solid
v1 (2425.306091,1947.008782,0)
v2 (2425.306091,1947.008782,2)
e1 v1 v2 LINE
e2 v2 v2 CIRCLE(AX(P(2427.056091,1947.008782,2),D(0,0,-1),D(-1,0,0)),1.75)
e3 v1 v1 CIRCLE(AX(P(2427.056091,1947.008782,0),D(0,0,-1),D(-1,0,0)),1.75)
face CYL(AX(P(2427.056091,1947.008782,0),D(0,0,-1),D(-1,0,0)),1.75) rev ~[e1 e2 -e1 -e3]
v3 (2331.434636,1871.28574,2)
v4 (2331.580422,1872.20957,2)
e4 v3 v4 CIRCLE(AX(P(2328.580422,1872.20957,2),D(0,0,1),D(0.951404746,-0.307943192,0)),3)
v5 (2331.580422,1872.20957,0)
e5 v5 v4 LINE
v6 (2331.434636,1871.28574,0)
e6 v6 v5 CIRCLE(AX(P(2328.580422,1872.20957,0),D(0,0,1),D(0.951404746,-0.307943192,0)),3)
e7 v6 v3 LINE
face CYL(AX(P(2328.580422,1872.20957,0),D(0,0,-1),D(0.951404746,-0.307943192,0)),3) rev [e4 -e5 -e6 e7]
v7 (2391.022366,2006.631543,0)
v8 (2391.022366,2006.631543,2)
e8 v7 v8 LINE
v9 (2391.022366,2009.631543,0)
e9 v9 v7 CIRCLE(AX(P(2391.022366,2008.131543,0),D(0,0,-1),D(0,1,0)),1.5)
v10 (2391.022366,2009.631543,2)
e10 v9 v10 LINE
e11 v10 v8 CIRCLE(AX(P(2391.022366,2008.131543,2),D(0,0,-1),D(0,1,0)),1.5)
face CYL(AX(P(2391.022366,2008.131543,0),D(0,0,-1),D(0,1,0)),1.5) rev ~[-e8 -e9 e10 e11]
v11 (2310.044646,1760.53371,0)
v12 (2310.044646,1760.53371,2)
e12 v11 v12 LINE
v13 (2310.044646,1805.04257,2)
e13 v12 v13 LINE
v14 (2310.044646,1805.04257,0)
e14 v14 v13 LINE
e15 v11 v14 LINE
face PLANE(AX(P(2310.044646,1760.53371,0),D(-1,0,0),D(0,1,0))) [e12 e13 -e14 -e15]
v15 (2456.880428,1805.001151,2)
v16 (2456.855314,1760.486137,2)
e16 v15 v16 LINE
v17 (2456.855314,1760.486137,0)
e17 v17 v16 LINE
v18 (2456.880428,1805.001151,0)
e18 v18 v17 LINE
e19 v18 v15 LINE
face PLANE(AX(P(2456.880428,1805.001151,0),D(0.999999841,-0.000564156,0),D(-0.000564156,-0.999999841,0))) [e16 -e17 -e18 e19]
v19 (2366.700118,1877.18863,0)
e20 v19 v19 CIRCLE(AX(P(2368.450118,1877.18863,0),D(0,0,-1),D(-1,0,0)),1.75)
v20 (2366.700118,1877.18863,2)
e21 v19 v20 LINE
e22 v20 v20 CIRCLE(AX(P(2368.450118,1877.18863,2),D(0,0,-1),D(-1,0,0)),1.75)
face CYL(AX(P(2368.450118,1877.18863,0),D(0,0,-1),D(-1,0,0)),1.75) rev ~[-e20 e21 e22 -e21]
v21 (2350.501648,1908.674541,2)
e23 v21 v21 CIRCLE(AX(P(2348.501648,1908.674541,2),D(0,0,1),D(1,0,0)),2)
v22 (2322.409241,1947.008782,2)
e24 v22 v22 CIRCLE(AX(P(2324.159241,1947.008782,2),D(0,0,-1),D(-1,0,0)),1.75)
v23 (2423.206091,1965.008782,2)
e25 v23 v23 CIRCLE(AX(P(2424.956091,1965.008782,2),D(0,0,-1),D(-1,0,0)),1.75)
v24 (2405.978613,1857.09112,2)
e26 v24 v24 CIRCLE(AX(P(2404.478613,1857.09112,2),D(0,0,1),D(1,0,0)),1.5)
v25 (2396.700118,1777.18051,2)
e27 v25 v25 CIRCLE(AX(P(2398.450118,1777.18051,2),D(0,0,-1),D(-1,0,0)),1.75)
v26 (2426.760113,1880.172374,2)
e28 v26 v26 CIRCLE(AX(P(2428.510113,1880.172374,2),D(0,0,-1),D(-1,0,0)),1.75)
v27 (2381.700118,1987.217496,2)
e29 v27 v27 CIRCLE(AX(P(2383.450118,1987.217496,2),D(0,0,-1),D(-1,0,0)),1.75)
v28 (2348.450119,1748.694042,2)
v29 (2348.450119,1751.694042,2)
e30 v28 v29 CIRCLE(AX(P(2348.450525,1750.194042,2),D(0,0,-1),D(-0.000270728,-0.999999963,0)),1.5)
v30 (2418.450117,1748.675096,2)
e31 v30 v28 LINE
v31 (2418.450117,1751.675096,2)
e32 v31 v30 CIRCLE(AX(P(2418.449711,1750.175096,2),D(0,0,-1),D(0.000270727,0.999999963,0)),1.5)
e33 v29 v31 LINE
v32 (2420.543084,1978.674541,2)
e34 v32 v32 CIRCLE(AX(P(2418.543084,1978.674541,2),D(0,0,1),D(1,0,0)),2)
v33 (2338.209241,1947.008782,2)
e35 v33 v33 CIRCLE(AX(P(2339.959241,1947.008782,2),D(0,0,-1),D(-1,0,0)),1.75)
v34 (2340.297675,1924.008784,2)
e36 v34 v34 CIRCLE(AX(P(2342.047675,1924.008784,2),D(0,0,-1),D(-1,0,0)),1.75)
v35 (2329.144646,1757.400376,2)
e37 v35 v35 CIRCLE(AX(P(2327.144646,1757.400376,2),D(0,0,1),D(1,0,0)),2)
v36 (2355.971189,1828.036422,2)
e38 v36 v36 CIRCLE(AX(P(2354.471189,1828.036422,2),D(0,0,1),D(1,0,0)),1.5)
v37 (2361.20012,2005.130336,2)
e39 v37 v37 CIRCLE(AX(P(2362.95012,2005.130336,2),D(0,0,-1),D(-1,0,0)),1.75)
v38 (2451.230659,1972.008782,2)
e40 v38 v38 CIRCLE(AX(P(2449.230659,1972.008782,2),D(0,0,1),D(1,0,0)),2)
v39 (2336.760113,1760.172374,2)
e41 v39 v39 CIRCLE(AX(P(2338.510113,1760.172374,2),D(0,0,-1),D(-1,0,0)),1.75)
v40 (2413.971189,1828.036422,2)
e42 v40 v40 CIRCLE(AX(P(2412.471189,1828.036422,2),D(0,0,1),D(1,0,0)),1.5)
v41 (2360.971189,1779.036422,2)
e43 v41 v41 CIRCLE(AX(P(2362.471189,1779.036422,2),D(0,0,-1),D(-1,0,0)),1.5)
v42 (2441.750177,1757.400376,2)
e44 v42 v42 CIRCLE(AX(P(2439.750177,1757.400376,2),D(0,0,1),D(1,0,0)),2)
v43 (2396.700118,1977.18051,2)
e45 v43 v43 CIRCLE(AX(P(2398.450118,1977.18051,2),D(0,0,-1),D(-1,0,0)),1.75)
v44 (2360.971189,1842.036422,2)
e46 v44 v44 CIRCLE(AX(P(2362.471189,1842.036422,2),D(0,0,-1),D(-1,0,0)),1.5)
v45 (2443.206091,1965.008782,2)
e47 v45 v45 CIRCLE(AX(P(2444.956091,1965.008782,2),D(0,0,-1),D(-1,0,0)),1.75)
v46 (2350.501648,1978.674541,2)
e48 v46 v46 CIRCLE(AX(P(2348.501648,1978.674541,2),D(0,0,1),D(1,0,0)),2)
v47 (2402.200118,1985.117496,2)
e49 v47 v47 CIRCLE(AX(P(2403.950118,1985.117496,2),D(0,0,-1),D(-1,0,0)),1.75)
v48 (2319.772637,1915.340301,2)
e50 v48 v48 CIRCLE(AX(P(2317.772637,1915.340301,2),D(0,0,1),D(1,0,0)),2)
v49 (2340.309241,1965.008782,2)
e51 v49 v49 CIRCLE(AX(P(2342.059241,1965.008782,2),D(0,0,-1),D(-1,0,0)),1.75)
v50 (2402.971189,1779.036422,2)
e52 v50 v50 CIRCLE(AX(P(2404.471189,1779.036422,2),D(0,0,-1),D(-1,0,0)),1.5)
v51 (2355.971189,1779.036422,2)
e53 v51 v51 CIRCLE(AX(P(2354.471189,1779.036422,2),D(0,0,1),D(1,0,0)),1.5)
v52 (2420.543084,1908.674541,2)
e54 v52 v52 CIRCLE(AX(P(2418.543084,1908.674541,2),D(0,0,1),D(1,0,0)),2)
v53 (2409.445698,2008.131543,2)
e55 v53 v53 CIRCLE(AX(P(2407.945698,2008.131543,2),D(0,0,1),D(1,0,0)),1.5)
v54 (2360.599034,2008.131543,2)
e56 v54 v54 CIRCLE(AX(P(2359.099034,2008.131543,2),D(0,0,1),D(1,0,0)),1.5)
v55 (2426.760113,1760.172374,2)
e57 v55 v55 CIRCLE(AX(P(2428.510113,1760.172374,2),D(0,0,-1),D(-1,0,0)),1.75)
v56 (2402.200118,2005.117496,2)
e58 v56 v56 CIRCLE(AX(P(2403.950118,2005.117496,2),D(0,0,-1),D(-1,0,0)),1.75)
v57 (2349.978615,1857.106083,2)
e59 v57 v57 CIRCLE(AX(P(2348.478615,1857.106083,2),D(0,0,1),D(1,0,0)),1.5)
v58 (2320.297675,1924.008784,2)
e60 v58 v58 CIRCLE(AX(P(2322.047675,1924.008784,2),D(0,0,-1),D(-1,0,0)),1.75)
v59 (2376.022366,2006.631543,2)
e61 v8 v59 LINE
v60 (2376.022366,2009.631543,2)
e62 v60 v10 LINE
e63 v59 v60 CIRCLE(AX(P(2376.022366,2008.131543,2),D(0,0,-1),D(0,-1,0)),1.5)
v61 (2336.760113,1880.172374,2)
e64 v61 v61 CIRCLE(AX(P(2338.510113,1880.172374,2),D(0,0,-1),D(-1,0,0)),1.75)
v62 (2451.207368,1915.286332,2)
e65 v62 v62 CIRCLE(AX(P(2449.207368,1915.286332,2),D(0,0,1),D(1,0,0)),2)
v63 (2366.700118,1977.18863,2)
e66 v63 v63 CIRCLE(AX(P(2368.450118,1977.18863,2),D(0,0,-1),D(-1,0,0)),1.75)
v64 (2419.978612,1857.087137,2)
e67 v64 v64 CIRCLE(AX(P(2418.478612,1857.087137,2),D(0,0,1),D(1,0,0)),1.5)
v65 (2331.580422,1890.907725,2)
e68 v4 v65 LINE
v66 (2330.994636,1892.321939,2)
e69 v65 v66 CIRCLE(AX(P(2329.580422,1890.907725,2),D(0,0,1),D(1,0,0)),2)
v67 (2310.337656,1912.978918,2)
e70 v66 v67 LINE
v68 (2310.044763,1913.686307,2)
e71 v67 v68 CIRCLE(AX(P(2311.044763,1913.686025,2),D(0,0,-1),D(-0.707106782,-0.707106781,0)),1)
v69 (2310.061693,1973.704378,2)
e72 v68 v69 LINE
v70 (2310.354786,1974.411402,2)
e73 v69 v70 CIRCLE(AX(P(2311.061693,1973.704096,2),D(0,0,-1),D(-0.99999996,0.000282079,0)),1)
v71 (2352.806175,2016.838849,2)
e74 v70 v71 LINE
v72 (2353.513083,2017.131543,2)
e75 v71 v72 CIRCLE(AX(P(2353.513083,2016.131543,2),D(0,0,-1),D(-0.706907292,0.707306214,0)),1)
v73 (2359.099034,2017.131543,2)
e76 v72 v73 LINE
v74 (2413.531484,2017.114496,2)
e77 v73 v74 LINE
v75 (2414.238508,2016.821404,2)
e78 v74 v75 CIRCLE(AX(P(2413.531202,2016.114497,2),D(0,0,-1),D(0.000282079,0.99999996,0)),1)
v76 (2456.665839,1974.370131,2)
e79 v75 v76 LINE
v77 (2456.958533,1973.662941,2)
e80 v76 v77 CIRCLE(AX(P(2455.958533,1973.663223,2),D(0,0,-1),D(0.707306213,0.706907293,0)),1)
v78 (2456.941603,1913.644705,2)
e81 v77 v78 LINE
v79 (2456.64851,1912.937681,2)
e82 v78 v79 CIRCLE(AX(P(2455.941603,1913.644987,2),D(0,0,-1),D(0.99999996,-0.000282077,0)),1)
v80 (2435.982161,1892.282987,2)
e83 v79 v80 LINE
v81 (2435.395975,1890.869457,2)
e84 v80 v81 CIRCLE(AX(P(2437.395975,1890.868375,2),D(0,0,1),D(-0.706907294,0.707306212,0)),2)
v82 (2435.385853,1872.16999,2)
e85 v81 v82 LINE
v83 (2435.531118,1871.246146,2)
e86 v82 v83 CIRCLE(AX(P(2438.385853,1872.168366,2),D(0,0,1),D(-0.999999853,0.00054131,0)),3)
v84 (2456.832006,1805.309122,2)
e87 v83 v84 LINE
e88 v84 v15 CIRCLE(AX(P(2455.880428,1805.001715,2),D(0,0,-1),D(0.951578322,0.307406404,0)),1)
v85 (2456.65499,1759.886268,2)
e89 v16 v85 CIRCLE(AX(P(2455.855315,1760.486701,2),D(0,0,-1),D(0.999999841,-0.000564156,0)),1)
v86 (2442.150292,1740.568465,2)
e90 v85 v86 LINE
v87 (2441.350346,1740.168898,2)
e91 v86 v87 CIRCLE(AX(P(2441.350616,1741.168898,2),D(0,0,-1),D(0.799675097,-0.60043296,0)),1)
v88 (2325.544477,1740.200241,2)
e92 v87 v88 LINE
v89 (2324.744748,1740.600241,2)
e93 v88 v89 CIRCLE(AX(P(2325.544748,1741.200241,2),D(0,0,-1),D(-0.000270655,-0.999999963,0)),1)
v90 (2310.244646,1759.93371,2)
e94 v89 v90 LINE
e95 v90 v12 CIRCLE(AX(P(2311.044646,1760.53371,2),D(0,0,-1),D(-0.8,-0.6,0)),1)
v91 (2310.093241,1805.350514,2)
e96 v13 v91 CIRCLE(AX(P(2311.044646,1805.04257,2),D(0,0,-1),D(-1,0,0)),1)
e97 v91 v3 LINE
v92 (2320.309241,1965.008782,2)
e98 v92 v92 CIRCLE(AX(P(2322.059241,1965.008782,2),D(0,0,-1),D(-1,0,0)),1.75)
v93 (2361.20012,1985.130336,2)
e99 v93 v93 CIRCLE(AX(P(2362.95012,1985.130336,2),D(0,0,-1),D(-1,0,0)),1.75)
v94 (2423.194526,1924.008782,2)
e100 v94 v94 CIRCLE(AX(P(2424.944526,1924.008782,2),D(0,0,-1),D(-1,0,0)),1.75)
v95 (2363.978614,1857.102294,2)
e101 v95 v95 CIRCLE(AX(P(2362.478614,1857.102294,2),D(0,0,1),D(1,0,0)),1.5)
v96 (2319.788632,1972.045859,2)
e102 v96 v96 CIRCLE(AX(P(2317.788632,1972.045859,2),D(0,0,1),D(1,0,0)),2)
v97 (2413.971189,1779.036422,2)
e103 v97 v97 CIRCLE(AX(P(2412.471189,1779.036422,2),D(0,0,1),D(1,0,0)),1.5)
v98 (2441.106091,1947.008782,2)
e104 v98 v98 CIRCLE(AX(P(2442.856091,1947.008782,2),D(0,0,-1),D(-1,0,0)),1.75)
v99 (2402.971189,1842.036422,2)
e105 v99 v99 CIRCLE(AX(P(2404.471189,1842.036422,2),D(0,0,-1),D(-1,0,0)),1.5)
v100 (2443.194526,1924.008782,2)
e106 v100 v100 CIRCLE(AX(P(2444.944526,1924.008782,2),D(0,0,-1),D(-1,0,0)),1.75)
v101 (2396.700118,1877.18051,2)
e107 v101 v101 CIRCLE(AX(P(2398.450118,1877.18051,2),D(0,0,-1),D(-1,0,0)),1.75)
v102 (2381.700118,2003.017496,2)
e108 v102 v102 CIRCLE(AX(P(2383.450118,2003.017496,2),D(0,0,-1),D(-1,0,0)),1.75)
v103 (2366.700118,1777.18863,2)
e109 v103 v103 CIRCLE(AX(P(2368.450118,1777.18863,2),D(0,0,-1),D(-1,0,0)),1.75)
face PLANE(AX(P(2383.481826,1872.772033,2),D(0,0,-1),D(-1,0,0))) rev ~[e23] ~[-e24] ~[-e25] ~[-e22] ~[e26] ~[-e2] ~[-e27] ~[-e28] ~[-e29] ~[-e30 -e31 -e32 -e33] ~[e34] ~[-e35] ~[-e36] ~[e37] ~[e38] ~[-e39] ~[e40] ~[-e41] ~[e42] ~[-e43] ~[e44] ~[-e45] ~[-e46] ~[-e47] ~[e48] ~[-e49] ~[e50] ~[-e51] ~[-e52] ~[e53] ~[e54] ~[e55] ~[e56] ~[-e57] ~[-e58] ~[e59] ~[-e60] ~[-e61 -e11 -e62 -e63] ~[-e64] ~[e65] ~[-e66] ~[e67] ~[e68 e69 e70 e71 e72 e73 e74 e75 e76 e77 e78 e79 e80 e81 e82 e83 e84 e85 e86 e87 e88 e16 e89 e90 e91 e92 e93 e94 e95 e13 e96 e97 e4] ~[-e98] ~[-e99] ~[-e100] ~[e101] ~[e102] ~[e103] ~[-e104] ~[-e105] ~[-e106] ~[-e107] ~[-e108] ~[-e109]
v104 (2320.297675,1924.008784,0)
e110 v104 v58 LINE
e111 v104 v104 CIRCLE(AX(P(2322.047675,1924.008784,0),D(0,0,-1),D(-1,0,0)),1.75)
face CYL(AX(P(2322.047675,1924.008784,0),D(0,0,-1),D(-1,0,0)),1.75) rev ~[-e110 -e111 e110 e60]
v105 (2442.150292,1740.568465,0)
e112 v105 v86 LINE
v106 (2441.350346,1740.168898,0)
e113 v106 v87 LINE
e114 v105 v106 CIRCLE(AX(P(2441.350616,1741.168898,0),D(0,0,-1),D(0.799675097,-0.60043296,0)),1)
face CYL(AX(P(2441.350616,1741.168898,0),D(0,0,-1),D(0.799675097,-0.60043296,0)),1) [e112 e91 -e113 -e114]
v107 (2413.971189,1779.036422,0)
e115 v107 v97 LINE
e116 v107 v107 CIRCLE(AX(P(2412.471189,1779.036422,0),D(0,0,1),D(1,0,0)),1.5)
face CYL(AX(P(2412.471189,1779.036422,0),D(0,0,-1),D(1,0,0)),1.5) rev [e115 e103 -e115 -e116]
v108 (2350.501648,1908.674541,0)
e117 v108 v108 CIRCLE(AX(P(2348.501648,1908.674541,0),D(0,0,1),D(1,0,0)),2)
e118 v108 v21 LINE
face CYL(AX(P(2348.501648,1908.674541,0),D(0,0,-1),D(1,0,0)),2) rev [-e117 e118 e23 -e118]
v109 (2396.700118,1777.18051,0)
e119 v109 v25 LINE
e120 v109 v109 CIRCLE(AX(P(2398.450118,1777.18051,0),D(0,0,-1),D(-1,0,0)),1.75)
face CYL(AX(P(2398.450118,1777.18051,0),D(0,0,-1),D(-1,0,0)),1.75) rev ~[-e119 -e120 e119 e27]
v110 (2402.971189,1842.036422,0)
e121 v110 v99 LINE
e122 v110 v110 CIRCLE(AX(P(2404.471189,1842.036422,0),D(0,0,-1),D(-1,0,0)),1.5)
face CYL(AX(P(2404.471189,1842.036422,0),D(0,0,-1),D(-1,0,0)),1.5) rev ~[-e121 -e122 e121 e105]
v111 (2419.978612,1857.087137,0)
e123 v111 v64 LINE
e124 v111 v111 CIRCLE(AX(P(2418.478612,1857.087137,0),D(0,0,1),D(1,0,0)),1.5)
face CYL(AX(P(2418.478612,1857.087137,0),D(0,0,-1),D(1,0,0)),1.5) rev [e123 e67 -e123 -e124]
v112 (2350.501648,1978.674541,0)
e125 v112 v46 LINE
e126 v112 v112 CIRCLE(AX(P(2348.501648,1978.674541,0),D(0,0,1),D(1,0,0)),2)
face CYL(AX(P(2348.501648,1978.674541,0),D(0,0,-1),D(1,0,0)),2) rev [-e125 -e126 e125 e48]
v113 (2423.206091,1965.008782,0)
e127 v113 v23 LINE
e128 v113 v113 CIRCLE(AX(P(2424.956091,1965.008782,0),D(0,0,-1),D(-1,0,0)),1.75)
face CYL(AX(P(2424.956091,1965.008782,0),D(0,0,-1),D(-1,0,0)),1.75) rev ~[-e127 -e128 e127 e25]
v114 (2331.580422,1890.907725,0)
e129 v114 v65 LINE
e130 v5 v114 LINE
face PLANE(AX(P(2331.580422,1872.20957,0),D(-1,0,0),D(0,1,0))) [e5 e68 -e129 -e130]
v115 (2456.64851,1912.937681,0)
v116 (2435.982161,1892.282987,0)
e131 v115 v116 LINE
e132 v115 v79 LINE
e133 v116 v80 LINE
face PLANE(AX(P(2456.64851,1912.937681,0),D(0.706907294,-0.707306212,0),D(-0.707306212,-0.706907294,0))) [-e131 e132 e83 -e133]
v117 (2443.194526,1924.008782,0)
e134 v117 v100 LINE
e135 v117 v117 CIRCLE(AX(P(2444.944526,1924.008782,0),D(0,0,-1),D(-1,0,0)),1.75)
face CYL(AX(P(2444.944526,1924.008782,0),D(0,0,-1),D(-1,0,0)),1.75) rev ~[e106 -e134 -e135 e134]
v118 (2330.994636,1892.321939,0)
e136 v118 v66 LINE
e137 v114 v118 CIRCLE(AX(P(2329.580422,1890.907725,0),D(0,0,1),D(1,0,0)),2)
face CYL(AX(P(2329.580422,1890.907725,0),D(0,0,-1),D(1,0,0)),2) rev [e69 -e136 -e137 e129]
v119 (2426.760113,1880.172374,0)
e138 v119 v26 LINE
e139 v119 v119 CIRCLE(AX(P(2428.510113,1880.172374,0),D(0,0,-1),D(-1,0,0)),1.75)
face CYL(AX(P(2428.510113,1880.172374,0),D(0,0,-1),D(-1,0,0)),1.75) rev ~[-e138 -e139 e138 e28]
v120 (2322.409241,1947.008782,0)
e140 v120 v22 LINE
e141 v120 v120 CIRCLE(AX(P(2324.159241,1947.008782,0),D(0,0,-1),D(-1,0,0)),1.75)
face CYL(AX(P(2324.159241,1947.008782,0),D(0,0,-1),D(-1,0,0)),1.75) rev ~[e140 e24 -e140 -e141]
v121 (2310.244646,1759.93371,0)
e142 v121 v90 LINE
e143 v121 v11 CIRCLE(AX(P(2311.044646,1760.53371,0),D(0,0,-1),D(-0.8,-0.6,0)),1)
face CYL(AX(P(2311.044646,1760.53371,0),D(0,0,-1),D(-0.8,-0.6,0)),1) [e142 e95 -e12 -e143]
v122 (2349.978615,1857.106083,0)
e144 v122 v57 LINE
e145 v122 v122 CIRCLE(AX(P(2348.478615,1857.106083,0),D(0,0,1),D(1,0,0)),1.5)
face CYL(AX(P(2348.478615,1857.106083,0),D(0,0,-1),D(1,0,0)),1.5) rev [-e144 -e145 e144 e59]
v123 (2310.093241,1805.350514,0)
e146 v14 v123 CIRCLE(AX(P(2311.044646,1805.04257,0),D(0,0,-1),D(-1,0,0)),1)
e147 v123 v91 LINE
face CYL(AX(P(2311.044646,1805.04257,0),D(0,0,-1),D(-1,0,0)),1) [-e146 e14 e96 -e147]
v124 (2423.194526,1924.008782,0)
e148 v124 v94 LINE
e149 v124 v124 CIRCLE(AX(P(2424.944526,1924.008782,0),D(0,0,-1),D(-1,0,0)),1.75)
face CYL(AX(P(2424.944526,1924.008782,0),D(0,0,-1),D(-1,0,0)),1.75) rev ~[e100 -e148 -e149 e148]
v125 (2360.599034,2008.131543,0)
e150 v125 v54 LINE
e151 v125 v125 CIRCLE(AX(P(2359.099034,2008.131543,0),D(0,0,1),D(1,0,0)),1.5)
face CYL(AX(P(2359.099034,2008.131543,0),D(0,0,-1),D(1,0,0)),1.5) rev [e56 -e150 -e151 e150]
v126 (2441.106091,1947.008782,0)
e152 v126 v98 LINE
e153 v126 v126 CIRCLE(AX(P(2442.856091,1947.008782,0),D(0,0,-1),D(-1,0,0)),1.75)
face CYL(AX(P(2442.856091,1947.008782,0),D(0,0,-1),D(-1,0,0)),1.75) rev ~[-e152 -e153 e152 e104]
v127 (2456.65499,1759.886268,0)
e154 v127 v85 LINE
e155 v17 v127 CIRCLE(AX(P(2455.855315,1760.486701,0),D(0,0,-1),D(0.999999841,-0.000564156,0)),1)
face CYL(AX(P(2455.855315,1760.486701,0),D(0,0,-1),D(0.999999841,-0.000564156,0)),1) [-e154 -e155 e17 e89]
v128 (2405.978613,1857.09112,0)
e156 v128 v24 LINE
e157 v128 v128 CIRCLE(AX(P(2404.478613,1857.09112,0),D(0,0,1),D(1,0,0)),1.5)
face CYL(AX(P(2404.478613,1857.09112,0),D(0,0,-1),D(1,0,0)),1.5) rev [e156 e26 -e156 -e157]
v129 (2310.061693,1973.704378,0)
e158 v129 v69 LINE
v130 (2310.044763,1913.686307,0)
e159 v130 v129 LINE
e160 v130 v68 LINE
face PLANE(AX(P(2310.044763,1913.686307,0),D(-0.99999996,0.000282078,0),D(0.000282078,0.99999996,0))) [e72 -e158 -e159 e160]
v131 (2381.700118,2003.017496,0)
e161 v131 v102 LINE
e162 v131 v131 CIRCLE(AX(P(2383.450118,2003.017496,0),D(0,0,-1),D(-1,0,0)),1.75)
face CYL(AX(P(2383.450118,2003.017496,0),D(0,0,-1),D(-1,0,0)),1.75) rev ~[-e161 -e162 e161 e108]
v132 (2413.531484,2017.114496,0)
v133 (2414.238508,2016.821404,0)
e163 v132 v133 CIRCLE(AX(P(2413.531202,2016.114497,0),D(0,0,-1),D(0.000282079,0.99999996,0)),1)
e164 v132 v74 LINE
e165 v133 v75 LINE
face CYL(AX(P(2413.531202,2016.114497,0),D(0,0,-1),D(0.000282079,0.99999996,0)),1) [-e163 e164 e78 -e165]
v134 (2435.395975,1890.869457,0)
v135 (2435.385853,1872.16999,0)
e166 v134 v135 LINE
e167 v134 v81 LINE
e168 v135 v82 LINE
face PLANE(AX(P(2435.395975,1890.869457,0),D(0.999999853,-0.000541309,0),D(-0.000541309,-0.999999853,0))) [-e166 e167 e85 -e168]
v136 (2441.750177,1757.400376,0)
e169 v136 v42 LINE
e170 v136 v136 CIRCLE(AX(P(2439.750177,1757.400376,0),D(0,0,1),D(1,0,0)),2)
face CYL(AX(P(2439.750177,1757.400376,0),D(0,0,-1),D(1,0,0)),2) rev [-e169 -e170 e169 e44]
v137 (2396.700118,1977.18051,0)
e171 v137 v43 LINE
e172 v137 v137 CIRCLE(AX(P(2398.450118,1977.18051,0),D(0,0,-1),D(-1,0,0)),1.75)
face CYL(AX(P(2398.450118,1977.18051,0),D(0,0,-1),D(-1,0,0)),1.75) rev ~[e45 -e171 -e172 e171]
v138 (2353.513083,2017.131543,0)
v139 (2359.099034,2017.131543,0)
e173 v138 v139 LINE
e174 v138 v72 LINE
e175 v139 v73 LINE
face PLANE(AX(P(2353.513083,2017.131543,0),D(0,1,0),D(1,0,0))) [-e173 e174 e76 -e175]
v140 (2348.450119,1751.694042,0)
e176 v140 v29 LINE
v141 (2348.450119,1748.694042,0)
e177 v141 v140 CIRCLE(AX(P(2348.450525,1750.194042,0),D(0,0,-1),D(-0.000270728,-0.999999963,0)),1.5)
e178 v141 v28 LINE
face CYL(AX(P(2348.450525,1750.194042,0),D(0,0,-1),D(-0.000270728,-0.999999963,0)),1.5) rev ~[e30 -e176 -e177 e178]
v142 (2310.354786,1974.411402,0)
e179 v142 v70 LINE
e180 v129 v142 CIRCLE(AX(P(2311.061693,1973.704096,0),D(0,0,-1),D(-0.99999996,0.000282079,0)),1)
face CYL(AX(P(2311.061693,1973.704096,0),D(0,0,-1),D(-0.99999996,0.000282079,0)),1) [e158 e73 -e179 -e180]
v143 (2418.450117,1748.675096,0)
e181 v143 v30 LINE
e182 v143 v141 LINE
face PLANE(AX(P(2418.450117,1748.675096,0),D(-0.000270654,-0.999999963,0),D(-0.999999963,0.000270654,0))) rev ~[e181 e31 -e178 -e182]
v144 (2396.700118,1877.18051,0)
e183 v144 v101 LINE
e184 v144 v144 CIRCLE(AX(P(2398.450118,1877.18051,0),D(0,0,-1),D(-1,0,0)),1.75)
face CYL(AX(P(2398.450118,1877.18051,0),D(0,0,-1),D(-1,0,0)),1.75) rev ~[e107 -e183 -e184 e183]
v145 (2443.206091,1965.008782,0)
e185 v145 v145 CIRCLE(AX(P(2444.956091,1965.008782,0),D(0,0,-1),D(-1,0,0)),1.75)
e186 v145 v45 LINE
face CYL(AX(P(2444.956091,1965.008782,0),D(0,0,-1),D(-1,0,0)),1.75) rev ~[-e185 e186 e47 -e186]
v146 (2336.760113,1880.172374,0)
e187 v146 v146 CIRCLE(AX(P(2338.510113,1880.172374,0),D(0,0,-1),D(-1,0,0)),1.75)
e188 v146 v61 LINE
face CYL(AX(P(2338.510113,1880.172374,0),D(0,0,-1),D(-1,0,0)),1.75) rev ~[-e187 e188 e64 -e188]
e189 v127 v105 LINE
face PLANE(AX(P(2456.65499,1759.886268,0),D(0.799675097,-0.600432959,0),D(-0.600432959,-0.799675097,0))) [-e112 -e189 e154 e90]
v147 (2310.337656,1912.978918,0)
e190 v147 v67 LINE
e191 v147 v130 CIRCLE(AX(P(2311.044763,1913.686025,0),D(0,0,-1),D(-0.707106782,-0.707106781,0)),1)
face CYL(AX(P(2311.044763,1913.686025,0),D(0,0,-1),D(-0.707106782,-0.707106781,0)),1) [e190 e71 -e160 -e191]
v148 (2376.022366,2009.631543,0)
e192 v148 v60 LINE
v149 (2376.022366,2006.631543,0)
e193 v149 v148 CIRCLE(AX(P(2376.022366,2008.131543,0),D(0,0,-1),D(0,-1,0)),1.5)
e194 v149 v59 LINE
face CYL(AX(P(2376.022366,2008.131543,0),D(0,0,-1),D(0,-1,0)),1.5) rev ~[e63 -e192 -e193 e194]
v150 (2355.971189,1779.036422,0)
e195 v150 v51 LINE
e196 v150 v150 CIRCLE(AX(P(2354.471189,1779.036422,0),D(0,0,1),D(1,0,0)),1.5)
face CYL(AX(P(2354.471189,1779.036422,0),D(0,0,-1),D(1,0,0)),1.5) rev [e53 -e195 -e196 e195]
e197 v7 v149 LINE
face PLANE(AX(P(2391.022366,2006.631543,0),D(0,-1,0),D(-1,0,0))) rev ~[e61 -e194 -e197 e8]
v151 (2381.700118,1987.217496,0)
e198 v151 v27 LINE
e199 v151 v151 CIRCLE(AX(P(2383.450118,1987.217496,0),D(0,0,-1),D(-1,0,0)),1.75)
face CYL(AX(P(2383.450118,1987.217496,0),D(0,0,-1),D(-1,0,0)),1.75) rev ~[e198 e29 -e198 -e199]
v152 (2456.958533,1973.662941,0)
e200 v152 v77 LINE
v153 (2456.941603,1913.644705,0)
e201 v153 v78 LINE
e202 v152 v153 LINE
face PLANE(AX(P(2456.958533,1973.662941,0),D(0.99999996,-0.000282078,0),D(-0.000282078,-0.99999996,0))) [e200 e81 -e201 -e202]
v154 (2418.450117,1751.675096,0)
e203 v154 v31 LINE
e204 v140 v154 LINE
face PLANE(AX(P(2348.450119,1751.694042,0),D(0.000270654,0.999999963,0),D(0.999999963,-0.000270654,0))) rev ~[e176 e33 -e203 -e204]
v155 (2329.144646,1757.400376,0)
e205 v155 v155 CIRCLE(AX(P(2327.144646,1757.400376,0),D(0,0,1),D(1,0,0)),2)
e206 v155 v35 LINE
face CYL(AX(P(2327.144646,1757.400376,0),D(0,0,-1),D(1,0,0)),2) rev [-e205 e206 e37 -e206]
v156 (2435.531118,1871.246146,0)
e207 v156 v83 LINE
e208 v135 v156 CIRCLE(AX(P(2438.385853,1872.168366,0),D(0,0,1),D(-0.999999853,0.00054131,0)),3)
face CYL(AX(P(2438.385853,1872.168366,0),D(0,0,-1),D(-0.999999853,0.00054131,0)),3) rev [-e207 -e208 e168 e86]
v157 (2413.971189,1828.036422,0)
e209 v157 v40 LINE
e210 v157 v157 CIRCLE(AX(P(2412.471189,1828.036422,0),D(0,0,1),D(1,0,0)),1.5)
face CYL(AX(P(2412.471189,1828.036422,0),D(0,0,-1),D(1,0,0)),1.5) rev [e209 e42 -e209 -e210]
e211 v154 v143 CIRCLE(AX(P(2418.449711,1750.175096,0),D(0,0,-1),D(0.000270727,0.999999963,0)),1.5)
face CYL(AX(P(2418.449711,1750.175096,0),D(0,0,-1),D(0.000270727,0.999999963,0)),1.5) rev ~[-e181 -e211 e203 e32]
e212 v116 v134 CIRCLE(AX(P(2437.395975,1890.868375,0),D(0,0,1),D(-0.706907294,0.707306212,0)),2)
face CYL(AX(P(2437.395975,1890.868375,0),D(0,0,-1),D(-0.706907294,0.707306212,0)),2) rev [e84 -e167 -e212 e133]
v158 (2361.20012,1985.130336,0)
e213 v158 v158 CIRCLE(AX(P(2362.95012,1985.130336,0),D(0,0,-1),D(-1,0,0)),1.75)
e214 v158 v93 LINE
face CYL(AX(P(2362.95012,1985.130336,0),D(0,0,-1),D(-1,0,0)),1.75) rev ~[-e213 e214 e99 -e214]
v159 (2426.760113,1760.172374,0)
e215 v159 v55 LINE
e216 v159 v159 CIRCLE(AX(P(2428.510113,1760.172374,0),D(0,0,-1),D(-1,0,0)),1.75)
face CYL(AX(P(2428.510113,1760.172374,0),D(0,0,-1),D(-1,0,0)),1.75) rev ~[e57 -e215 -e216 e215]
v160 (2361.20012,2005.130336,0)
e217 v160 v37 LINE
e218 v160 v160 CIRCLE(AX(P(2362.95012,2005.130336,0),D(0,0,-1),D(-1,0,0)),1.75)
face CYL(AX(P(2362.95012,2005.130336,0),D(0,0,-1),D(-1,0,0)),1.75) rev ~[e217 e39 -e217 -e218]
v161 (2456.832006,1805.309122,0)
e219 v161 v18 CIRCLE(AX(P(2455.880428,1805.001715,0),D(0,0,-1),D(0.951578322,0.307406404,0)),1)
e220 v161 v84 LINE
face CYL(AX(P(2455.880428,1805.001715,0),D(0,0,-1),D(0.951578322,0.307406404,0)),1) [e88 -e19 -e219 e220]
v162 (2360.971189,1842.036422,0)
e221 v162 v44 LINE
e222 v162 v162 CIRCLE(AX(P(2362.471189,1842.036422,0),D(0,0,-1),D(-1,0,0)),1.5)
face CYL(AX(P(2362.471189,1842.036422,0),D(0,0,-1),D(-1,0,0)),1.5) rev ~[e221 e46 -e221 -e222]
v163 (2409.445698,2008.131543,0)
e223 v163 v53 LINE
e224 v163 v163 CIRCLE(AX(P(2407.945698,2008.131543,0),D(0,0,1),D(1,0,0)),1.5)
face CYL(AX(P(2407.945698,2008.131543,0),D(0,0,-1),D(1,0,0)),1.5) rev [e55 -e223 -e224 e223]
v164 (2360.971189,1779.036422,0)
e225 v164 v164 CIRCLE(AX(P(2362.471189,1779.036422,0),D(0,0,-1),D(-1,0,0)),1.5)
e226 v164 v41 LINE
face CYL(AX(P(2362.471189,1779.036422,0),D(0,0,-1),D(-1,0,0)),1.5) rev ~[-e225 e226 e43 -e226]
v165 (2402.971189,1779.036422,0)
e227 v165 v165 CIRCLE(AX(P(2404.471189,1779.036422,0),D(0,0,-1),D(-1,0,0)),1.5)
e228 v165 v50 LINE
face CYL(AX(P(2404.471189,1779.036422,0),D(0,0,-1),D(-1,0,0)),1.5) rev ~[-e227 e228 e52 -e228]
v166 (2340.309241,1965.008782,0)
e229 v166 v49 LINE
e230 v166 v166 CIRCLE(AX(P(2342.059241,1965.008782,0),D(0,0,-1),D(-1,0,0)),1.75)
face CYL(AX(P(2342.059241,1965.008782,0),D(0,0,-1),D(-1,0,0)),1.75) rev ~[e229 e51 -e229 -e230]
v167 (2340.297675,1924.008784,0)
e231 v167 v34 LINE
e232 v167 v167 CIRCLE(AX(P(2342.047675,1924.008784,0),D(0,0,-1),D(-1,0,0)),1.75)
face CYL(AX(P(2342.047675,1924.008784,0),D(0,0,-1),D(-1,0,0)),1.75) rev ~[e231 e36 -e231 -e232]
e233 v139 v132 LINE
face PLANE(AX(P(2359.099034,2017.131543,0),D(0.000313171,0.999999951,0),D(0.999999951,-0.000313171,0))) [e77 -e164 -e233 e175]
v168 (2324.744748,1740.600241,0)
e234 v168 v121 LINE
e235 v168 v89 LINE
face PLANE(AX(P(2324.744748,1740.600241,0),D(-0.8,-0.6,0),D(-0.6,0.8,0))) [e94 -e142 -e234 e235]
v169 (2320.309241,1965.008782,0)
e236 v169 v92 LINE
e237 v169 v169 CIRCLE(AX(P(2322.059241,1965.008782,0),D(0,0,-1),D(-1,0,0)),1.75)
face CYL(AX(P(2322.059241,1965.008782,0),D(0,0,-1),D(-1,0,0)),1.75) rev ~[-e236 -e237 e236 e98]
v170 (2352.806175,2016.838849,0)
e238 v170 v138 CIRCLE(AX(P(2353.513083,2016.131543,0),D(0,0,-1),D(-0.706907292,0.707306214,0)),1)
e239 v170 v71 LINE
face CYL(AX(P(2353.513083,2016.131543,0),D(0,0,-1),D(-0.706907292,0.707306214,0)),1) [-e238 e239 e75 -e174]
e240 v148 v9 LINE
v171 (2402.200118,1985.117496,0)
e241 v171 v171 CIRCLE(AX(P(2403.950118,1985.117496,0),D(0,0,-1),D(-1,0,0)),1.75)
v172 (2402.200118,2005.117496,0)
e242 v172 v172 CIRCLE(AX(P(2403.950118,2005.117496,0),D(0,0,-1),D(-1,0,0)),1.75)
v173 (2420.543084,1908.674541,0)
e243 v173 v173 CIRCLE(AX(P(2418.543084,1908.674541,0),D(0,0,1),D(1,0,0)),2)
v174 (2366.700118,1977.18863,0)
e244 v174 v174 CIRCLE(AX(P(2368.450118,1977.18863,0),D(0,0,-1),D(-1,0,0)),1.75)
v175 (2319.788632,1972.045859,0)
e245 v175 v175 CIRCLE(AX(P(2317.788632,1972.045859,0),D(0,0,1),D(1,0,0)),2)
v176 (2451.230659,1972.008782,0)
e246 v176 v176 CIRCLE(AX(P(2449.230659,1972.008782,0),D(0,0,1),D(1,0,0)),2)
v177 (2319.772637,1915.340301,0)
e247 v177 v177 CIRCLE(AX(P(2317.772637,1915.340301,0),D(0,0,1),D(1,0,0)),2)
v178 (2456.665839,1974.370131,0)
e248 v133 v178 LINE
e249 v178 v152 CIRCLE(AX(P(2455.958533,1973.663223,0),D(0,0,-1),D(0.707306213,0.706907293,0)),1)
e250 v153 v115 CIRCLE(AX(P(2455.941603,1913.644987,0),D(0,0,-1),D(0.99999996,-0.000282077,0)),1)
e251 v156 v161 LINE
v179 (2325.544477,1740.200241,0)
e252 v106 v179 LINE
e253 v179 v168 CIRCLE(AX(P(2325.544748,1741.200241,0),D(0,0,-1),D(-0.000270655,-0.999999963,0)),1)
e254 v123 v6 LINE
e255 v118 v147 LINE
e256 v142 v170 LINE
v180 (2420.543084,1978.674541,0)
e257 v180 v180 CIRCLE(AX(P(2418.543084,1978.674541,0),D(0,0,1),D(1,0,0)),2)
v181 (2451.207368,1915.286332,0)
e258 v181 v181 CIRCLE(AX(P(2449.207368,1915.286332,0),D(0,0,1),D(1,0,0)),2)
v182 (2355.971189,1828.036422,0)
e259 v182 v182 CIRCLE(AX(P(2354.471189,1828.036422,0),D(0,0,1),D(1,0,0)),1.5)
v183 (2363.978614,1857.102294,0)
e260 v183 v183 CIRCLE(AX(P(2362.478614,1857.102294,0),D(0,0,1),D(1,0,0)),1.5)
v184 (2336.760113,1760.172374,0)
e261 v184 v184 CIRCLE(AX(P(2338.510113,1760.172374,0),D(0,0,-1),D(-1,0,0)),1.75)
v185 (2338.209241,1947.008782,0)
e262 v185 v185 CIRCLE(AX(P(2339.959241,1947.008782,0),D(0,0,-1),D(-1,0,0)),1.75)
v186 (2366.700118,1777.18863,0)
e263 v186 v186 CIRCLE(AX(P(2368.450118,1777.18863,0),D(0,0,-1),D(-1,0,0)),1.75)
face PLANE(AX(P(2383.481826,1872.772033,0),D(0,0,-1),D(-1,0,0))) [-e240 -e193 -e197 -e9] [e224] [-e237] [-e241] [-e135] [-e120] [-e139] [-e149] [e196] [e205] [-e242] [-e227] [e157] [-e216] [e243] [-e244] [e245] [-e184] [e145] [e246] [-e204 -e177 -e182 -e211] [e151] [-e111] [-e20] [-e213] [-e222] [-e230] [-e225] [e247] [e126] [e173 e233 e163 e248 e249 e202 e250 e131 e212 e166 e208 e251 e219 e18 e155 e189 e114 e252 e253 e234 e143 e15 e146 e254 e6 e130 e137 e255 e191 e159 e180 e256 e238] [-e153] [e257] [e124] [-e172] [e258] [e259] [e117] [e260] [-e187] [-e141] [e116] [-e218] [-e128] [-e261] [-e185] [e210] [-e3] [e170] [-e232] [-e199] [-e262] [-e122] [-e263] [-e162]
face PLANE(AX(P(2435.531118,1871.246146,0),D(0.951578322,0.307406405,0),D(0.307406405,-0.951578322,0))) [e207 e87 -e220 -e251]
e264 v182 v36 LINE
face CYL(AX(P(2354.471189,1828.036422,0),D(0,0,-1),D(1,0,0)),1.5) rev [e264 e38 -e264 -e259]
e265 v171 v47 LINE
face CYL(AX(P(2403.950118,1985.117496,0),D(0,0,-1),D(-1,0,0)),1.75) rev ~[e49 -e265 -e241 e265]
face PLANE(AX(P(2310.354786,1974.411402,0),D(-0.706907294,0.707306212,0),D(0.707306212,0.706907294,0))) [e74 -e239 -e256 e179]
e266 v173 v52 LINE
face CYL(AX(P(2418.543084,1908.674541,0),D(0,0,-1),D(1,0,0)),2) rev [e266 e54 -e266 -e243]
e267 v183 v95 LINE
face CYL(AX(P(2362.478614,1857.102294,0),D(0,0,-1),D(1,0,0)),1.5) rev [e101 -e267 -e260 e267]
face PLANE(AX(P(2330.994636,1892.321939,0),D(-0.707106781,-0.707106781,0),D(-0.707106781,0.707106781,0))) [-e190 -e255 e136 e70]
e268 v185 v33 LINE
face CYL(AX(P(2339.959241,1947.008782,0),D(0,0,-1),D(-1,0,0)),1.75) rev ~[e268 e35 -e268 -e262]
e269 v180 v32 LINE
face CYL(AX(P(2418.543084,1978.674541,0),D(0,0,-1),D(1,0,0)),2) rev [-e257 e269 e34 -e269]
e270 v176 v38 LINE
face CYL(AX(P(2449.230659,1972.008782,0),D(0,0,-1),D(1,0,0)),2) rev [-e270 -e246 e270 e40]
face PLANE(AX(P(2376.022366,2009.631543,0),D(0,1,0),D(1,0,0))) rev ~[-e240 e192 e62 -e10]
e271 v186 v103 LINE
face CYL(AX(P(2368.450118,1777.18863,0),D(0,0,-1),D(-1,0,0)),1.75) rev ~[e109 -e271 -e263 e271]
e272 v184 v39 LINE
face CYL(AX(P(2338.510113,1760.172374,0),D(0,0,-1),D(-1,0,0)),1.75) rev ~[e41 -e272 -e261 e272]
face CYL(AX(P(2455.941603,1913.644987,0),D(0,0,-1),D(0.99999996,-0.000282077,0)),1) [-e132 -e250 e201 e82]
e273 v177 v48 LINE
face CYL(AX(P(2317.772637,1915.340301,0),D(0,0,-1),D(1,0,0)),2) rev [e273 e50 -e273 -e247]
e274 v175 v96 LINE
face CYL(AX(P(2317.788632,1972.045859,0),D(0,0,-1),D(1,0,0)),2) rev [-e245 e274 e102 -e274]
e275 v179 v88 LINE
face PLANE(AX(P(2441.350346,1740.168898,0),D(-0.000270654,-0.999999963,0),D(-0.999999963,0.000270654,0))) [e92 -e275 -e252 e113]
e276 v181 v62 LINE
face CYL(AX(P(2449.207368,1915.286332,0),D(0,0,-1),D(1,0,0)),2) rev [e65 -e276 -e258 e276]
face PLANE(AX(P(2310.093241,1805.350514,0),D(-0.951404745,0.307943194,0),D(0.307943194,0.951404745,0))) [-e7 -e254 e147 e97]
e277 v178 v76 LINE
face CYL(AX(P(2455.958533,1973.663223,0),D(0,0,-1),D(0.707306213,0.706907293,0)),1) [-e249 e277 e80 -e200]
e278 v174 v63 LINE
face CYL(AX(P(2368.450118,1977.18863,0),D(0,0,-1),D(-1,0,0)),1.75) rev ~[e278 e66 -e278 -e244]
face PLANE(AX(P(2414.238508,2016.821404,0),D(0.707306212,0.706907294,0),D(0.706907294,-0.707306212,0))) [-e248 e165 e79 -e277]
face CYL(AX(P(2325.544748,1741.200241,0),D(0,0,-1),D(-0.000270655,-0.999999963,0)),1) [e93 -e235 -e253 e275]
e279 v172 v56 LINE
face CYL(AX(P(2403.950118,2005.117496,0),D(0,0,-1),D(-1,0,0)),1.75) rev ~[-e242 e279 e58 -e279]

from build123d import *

# Parameters (mm, degrees)
MODEL_R             = 1.5
MODEL_R_2           = 2
EXTRUDE_1_DEPTH     = 2
SKETCH_1_R          = 1.5
CUT_EXTRUDE_1_DEPTH = 2
SKETCH_2_R          = 1.75
CUT_EXTRUDE_2_DEPTH = 10
SKETCH_3_R          = 1.75
CUT_EXTRUDE_3_DEPTH = 10
SKETCH_4_R          = 1.75
CUT_EXTRUDE_4_DEPTH = 10


with BuildPart() as part:
    # Model → 凸台-拉伸1 (new body)
    with BuildSketch(Plane.XY):
        with BuildLine():
            Line((2310.044763103, 1913.686306773), (2310.061692874, 1973.704377759))
            ThreePointArc((2310.061692874, 1973.704377759), (2310.137921285, 1974.087039704), (2310.35478554, 1974.411401894))
            Line((2310.35478554, 1974.411401894), (2352.80617543, 2016.838849342))
            ThreePointArc((2352.80617543, 2016.838849342), (2353.130529599, 2017.055476626), (2353.513082724, 2017.131543129))
            Line((2353.513082724, 2017.131543129), (2359.09903439, 2017.131543129))
            Line((2359.09903439, 2017.131543129), (2413.531484169, 2017.114496472))
            ThreePointArc((2413.531484169, 2017.114496472), (2413.914146114, 2017.038268061), (2414.238508304, 2016.821403806))
            Line((2414.238508304, 2016.821403806), (2456.665838951, 1974.370130782))
            ThreePointArc((2456.665838951, 1974.370130782), (2456.882520181, 1974.045646299), (2456.958532699, 1973.66294141))
            Line((2456.958532699, 1973.66294141), (2456.941602882, 1913.644705177))
            ThreePointArc((2456.941602882, 1913.644705177), (2456.865374471, 1913.262043231), (2456.648510216, 1912.937681042))
            Line((2456.648510216, 1912.937681042), (2435.982160618, 1892.282987197))
            ThreePointArc((2435.982160618, 1892.282987197), (2435.548531394, 1891.634502283), (2435.395975499, 1890.86945739))
            Line((2435.395975499, 1890.86945739), (2435.385853308, 1872.169989535))
            ThreePointArc((2435.385853308, 1872.169989535), (2435.422265409, 1871.702372721), (2435.531117903, 1871.246146395))
            Line((2435.531117903, 1871.246146395), (2456.832006312, 1805.309121837))
            ThreePointArc((2456.832006312, 1805.309121837), (2456.868292251, 1805.15703511), (2456.880427831, 1805.001151277))
            Line((2456.880427831, 1805.001151277), (2456.855314427, 1760.486136893))
            ThreePointArc((2456.855314427, 1760.486136893), (2456.80382295, 1760.169948963), (2456.654989684, 1759.886268089))
            Line((2456.654989684, 1759.886268089), (2442.15029156, 1740.568464651))
            ThreePointArc((2442.15029156, 1740.568464651), (2441.797466901, 1740.274288933), (2441.350345809, 1740.168897647))
            Line((2441.350345809, 1740.168897647), (2325.54447705, 1740.200241027))
            ThreePointArc((2325.54447705, 1740.200241027), (2325.097413073, 1740.305874328), (2324.744747705, 1740.600240991))
            Line((2324.744747705, 1740.600240991), (2310.244646216, 1759.933709642))
            ThreePointArc((2310.244646216, 1759.933709642), (2310.095962918, 1760.217481876), (2310.044646216, 1760.533709642))
            Line((2310.044646216, 1760.533709642), (2310.044646216, 1805.042570403))
            ThreePointArc((2310.044646216, 1805.042570403), (2310.056869737, 1805.198447365), (2310.093241471, 1805.350513596))
            Line((2310.093241471, 1805.350513596), (2331.434636288, 1871.285740281))
            ThreePointArc((2331.434636288, 1871.285740281), (2331.543751489, 1871.741938976), (2331.580422052, 1872.209569862))
            Line((2331.580422052, 1872.209569862), (2331.580422052, 1890.907725019))
            ThreePointArc((2331.580422052, 1890.907725019), (2331.428181117, 1891.673091884), (2330.994635614, 1892.321938582))
            Line((2330.994635614, 1892.321938582), (2310.337656282, 1912.978917914))
            ThreePointArc((2310.337656282, 1912.978917914), (2310.120829567, 1913.303471569), (2310.044763103, 1913.686306773))
        make_face()
        with Locations((2359.09903439, 2008.131543129)):
            Circle(MODEL_R, mode=Mode.SUBTRACT)
        with Locations((2407.945697715, 2008.131543129)):
            Circle(MODEL_R, mode=Mode.SUBTRACT)
        with Locations((2348.501647878, 1978.674541468)):
            Circle(MODEL_R_2, mode=Mode.SUBTRACT)
        with Locations((2348.501647878, 1908.674541468)):
            Circle(MODEL_R_2, mode=Mode.SUBTRACT)
        with Locations((2418.543084227, 1978.674541468)):
            Circle(MODEL_R_2, mode=Mode.SUBTRACT)
        with Locations((2418.543084227, 1908.674541468)):
            Circle(MODEL_R_2, mode=Mode.SUBTRACT)
        with Locations((2412.471188929, 1828.036421631)):
            Circle(MODEL_R, mode=Mode.SUBTRACT)
        with Locations((2317.78863196, 1972.045859296)):
            Circle(MODEL_R_2, mode=Mode.SUBTRACT)
        with Locations((2449.230659179, 1972.008782408)):
            Circle(MODEL_R_2, mode=Mode.SUBTRACT)
        with Locations((2354.471188929, 1828.036421631)):
            Circle(MODEL_R, mode=Mode.SUBTRACT)
        with Locations((2354.471188929, 1779.036421631)):
            Circle(MODEL_R, mode=Mode.SUBTRACT)
        with Locations((2412.471188929, 1779.036421631)):
            Circle(MODEL_R, mode=Mode.SUBTRACT)
        with Locations((2327.144646216, 1757.400376309)):
            Circle(MODEL_R_2, mode=Mode.SUBTRACT)
        with Locations((2439.750176643, 1757.400376309)):
            Circle(MODEL_R_2, mode=Mode.SUBTRACT)
        with Locations((2317.772636576, 1915.340300528)):
            Circle(MODEL_R_2, mode=Mode.SUBTRACT)
        with Locations((2449.207368346, 1915.286332047)):
            Circle(MODEL_R_2, mode=Mode.SUBTRACT)
        with Locations((2348.478614662, 1857.106083087)):
            Circle(MODEL_R, mode=Mode.SUBTRACT)
        with Locations((2418.478612099, 1857.087137272)):
            Circle(MODEL_R, mode=Mode.SUBTRACT)
        with Locations((2362.47861415, 1857.102293924)):
            Circle(MODEL_R, mode=Mode.SUBTRACT)
        with Locations((2404.478612663, 1857.091119611)):
            Circle(MODEL_R, mode=Mode.SUBTRACT)
        with BuildLine():
            Line((2376.022366052, 2009.631543129), (2391.022366052, 2009.631543129))
            ThreePointArc((2391.022366052, 2009.631543129), (2392.522366052, 2008.131543129), (2391.022366052, 2006.631543129))
            Line((2391.022366052, 2006.631543129), (2376.022366052, 2006.631543129))
            ThreePointArc((2376.022366052, 2006.631543129), (2374.522366052, 2008.131543129), (2376.022366052, 2009.631543129))
        make_face(mode=Mode.SUBTRACT)
        with BuildLine():
            Line((2348.450119256, 1751.694041878), (2418.450116692, 1751.675096064))
            ThreePointArc((2418.450116692, 1751.675096064), (2419.949710601, 1750.174690192), (2418.450116692, 1748.675096064))
            Line((2418.450116692, 1748.675096064), (2348.450119256, 1748.694041878))
            ThreePointArc((2348.450119256, 1748.694041878), (2346.950525348, 1750.19444775), (2348.450119256, 1751.694041878))
        make_face(mode=Mode.SUBTRACT)
    extrude(amount=EXTRUDE_1_DEPTH)

    # 草图1 → 切除-拉伸1 (cut)
    with BuildSketch(Plane(origin=(0, 0, 0), x_dir=(-1, 0, 0), z_dir=(0, 0, -1))):
        with Locations((-2404.471188929, 1842.036421631)):
            Circle(SKETCH_1_R)
        with Locations((-2362.471188929, 1842.036421631)):
            Circle(SKETCH_1_R)
        with Locations((-2362.471188929, 1779.036421631)):
            Circle(SKETCH_1_R)
        with Locations((-2404.471188929, 1779.036421631)):
            Circle(SKETCH_1_R)
    extrude(amount=-CUT_EXTRUDE_1_DEPTH, mode=Mode.SUBTRACT)

    # 草图2 → 切除-拉伸2 (cut)
    with BuildSketch(Plane(origin=(0, 0, 0), x_dir=(-1, 0, 0), z_dir=(0, 0, -1))):
        with Locations((-2428.510112786, 1880.172373647)):
            Circle(SKETCH_2_R)
        with Locations((-2338.510112786, 1880.172373647)):
            Circle(SKETCH_2_R)
        with Locations((-2428.510112786, 1760.172373647)):
            Circle(SKETCH_2_R)
        with Locations((-2338.510112786, 1760.172373647)):
            Circle(SKETCH_2_R)
    extrude(amount=-CUT_EXTRUDE_2_DEPTH, mode=Mode.SUBTRACT)

    # 草图3 → 切除-拉伸3 (cut)
    with BuildSketch(Plane(origin=(0, 0, 0), x_dir=(-1, 0, 0), z_dir=(0, 0, -1))):
        with Locations((-2444.956091075, 1965.008782408)):
            Circle(SKETCH_3_R)
        with Locations((-2424.956091075, 1965.008782408)):
            Circle(SKETCH_3_R)
        with Locations((-2444.944525882, 1924.008782408)):
            Circle(SKETCH_3_R)
        with Locations((-2424.944525882, 1924.008782408)):
            Circle(SKETCH_3_R)
        with Locations((-2403.950117974, 2005.117496488)):
            Circle(SKETCH_3_R)
        with Locations((-2362.950119985, 2005.130336493)):
            Circle(SKETCH_3_R)
        with Locations((-2403.950117974, 1985.117496488)):
            Circle(SKETCH_3_R)
        with Locations((-2362.950119985, 1985.130336493)):
            Circle(SKETCH_3_R)
        with Locations((-2342.059240516, 1965.008782408)):
            Circle(SKETCH_3_R)
        with Locations((-2322.059240516, 1965.008782408)):
            Circle(SKETCH_3_R)
        with Locations((-2342.047675323, 1924.008784039)):
            Circle(SKETCH_3_R)
        with Locations((-2322.047675323, 1924.008784039)):
            Circle(SKETCH_3_R)
        with Locations((-2442.856091075, 1947.008782408)):
            Circle(SKETCH_3_R)
        with Locations((-2427.056091075, 1947.008782408)):
            Circle(SKETCH_3_R)
        with Locations((-2339.959240516, 1947.008782408)):
            Circle(SKETCH_3_R)
        with Locations((-2324.159240516, 1947.008782408)):
            Circle(SKETCH_3_R)
        with Locations((-2383.450117974, 2003.017496488)):
            Circle(SKETCH_3_R)
        with Locations((-2383.450117974, 1987.217496488)):
            Circle(SKETCH_3_R)
    extrude(amount=-CUT_EXTRUDE_3_DEPTH, mode=Mode.SUBTRACT)

    # 草图4 → 切除-拉伸4 (cut)
    with BuildSketch(Plane(origin=(0, 0, 0), x_dir=(-1, 0, 0), z_dir=(0, 0, -1))):
        with Locations((-2398.450117974, 1977.180510087)):
            Circle(SKETCH_4_R)
        with Locations((-2398.450117974, 1877.180510087)):
            Circle(SKETCH_4_R)
        with Locations((-2398.450117974, 1777.180510087)):
            Circle(SKETCH_4_R)
        with Locations((-2368.450117974, 1977.188629722)):
            Circle(SKETCH_4_R)
        with Locations((-2368.450117974, 1877.188629722)):
            Circle(SKETCH_4_R)
        with Locations((-2368.450117974, 1777.188629722)):
            Circle(SKETCH_4_R)
    extrude(amount=-CUT_EXTRUDE_4_DEPTH, mode=Mode.SUBTRACT)


solid = part.part
